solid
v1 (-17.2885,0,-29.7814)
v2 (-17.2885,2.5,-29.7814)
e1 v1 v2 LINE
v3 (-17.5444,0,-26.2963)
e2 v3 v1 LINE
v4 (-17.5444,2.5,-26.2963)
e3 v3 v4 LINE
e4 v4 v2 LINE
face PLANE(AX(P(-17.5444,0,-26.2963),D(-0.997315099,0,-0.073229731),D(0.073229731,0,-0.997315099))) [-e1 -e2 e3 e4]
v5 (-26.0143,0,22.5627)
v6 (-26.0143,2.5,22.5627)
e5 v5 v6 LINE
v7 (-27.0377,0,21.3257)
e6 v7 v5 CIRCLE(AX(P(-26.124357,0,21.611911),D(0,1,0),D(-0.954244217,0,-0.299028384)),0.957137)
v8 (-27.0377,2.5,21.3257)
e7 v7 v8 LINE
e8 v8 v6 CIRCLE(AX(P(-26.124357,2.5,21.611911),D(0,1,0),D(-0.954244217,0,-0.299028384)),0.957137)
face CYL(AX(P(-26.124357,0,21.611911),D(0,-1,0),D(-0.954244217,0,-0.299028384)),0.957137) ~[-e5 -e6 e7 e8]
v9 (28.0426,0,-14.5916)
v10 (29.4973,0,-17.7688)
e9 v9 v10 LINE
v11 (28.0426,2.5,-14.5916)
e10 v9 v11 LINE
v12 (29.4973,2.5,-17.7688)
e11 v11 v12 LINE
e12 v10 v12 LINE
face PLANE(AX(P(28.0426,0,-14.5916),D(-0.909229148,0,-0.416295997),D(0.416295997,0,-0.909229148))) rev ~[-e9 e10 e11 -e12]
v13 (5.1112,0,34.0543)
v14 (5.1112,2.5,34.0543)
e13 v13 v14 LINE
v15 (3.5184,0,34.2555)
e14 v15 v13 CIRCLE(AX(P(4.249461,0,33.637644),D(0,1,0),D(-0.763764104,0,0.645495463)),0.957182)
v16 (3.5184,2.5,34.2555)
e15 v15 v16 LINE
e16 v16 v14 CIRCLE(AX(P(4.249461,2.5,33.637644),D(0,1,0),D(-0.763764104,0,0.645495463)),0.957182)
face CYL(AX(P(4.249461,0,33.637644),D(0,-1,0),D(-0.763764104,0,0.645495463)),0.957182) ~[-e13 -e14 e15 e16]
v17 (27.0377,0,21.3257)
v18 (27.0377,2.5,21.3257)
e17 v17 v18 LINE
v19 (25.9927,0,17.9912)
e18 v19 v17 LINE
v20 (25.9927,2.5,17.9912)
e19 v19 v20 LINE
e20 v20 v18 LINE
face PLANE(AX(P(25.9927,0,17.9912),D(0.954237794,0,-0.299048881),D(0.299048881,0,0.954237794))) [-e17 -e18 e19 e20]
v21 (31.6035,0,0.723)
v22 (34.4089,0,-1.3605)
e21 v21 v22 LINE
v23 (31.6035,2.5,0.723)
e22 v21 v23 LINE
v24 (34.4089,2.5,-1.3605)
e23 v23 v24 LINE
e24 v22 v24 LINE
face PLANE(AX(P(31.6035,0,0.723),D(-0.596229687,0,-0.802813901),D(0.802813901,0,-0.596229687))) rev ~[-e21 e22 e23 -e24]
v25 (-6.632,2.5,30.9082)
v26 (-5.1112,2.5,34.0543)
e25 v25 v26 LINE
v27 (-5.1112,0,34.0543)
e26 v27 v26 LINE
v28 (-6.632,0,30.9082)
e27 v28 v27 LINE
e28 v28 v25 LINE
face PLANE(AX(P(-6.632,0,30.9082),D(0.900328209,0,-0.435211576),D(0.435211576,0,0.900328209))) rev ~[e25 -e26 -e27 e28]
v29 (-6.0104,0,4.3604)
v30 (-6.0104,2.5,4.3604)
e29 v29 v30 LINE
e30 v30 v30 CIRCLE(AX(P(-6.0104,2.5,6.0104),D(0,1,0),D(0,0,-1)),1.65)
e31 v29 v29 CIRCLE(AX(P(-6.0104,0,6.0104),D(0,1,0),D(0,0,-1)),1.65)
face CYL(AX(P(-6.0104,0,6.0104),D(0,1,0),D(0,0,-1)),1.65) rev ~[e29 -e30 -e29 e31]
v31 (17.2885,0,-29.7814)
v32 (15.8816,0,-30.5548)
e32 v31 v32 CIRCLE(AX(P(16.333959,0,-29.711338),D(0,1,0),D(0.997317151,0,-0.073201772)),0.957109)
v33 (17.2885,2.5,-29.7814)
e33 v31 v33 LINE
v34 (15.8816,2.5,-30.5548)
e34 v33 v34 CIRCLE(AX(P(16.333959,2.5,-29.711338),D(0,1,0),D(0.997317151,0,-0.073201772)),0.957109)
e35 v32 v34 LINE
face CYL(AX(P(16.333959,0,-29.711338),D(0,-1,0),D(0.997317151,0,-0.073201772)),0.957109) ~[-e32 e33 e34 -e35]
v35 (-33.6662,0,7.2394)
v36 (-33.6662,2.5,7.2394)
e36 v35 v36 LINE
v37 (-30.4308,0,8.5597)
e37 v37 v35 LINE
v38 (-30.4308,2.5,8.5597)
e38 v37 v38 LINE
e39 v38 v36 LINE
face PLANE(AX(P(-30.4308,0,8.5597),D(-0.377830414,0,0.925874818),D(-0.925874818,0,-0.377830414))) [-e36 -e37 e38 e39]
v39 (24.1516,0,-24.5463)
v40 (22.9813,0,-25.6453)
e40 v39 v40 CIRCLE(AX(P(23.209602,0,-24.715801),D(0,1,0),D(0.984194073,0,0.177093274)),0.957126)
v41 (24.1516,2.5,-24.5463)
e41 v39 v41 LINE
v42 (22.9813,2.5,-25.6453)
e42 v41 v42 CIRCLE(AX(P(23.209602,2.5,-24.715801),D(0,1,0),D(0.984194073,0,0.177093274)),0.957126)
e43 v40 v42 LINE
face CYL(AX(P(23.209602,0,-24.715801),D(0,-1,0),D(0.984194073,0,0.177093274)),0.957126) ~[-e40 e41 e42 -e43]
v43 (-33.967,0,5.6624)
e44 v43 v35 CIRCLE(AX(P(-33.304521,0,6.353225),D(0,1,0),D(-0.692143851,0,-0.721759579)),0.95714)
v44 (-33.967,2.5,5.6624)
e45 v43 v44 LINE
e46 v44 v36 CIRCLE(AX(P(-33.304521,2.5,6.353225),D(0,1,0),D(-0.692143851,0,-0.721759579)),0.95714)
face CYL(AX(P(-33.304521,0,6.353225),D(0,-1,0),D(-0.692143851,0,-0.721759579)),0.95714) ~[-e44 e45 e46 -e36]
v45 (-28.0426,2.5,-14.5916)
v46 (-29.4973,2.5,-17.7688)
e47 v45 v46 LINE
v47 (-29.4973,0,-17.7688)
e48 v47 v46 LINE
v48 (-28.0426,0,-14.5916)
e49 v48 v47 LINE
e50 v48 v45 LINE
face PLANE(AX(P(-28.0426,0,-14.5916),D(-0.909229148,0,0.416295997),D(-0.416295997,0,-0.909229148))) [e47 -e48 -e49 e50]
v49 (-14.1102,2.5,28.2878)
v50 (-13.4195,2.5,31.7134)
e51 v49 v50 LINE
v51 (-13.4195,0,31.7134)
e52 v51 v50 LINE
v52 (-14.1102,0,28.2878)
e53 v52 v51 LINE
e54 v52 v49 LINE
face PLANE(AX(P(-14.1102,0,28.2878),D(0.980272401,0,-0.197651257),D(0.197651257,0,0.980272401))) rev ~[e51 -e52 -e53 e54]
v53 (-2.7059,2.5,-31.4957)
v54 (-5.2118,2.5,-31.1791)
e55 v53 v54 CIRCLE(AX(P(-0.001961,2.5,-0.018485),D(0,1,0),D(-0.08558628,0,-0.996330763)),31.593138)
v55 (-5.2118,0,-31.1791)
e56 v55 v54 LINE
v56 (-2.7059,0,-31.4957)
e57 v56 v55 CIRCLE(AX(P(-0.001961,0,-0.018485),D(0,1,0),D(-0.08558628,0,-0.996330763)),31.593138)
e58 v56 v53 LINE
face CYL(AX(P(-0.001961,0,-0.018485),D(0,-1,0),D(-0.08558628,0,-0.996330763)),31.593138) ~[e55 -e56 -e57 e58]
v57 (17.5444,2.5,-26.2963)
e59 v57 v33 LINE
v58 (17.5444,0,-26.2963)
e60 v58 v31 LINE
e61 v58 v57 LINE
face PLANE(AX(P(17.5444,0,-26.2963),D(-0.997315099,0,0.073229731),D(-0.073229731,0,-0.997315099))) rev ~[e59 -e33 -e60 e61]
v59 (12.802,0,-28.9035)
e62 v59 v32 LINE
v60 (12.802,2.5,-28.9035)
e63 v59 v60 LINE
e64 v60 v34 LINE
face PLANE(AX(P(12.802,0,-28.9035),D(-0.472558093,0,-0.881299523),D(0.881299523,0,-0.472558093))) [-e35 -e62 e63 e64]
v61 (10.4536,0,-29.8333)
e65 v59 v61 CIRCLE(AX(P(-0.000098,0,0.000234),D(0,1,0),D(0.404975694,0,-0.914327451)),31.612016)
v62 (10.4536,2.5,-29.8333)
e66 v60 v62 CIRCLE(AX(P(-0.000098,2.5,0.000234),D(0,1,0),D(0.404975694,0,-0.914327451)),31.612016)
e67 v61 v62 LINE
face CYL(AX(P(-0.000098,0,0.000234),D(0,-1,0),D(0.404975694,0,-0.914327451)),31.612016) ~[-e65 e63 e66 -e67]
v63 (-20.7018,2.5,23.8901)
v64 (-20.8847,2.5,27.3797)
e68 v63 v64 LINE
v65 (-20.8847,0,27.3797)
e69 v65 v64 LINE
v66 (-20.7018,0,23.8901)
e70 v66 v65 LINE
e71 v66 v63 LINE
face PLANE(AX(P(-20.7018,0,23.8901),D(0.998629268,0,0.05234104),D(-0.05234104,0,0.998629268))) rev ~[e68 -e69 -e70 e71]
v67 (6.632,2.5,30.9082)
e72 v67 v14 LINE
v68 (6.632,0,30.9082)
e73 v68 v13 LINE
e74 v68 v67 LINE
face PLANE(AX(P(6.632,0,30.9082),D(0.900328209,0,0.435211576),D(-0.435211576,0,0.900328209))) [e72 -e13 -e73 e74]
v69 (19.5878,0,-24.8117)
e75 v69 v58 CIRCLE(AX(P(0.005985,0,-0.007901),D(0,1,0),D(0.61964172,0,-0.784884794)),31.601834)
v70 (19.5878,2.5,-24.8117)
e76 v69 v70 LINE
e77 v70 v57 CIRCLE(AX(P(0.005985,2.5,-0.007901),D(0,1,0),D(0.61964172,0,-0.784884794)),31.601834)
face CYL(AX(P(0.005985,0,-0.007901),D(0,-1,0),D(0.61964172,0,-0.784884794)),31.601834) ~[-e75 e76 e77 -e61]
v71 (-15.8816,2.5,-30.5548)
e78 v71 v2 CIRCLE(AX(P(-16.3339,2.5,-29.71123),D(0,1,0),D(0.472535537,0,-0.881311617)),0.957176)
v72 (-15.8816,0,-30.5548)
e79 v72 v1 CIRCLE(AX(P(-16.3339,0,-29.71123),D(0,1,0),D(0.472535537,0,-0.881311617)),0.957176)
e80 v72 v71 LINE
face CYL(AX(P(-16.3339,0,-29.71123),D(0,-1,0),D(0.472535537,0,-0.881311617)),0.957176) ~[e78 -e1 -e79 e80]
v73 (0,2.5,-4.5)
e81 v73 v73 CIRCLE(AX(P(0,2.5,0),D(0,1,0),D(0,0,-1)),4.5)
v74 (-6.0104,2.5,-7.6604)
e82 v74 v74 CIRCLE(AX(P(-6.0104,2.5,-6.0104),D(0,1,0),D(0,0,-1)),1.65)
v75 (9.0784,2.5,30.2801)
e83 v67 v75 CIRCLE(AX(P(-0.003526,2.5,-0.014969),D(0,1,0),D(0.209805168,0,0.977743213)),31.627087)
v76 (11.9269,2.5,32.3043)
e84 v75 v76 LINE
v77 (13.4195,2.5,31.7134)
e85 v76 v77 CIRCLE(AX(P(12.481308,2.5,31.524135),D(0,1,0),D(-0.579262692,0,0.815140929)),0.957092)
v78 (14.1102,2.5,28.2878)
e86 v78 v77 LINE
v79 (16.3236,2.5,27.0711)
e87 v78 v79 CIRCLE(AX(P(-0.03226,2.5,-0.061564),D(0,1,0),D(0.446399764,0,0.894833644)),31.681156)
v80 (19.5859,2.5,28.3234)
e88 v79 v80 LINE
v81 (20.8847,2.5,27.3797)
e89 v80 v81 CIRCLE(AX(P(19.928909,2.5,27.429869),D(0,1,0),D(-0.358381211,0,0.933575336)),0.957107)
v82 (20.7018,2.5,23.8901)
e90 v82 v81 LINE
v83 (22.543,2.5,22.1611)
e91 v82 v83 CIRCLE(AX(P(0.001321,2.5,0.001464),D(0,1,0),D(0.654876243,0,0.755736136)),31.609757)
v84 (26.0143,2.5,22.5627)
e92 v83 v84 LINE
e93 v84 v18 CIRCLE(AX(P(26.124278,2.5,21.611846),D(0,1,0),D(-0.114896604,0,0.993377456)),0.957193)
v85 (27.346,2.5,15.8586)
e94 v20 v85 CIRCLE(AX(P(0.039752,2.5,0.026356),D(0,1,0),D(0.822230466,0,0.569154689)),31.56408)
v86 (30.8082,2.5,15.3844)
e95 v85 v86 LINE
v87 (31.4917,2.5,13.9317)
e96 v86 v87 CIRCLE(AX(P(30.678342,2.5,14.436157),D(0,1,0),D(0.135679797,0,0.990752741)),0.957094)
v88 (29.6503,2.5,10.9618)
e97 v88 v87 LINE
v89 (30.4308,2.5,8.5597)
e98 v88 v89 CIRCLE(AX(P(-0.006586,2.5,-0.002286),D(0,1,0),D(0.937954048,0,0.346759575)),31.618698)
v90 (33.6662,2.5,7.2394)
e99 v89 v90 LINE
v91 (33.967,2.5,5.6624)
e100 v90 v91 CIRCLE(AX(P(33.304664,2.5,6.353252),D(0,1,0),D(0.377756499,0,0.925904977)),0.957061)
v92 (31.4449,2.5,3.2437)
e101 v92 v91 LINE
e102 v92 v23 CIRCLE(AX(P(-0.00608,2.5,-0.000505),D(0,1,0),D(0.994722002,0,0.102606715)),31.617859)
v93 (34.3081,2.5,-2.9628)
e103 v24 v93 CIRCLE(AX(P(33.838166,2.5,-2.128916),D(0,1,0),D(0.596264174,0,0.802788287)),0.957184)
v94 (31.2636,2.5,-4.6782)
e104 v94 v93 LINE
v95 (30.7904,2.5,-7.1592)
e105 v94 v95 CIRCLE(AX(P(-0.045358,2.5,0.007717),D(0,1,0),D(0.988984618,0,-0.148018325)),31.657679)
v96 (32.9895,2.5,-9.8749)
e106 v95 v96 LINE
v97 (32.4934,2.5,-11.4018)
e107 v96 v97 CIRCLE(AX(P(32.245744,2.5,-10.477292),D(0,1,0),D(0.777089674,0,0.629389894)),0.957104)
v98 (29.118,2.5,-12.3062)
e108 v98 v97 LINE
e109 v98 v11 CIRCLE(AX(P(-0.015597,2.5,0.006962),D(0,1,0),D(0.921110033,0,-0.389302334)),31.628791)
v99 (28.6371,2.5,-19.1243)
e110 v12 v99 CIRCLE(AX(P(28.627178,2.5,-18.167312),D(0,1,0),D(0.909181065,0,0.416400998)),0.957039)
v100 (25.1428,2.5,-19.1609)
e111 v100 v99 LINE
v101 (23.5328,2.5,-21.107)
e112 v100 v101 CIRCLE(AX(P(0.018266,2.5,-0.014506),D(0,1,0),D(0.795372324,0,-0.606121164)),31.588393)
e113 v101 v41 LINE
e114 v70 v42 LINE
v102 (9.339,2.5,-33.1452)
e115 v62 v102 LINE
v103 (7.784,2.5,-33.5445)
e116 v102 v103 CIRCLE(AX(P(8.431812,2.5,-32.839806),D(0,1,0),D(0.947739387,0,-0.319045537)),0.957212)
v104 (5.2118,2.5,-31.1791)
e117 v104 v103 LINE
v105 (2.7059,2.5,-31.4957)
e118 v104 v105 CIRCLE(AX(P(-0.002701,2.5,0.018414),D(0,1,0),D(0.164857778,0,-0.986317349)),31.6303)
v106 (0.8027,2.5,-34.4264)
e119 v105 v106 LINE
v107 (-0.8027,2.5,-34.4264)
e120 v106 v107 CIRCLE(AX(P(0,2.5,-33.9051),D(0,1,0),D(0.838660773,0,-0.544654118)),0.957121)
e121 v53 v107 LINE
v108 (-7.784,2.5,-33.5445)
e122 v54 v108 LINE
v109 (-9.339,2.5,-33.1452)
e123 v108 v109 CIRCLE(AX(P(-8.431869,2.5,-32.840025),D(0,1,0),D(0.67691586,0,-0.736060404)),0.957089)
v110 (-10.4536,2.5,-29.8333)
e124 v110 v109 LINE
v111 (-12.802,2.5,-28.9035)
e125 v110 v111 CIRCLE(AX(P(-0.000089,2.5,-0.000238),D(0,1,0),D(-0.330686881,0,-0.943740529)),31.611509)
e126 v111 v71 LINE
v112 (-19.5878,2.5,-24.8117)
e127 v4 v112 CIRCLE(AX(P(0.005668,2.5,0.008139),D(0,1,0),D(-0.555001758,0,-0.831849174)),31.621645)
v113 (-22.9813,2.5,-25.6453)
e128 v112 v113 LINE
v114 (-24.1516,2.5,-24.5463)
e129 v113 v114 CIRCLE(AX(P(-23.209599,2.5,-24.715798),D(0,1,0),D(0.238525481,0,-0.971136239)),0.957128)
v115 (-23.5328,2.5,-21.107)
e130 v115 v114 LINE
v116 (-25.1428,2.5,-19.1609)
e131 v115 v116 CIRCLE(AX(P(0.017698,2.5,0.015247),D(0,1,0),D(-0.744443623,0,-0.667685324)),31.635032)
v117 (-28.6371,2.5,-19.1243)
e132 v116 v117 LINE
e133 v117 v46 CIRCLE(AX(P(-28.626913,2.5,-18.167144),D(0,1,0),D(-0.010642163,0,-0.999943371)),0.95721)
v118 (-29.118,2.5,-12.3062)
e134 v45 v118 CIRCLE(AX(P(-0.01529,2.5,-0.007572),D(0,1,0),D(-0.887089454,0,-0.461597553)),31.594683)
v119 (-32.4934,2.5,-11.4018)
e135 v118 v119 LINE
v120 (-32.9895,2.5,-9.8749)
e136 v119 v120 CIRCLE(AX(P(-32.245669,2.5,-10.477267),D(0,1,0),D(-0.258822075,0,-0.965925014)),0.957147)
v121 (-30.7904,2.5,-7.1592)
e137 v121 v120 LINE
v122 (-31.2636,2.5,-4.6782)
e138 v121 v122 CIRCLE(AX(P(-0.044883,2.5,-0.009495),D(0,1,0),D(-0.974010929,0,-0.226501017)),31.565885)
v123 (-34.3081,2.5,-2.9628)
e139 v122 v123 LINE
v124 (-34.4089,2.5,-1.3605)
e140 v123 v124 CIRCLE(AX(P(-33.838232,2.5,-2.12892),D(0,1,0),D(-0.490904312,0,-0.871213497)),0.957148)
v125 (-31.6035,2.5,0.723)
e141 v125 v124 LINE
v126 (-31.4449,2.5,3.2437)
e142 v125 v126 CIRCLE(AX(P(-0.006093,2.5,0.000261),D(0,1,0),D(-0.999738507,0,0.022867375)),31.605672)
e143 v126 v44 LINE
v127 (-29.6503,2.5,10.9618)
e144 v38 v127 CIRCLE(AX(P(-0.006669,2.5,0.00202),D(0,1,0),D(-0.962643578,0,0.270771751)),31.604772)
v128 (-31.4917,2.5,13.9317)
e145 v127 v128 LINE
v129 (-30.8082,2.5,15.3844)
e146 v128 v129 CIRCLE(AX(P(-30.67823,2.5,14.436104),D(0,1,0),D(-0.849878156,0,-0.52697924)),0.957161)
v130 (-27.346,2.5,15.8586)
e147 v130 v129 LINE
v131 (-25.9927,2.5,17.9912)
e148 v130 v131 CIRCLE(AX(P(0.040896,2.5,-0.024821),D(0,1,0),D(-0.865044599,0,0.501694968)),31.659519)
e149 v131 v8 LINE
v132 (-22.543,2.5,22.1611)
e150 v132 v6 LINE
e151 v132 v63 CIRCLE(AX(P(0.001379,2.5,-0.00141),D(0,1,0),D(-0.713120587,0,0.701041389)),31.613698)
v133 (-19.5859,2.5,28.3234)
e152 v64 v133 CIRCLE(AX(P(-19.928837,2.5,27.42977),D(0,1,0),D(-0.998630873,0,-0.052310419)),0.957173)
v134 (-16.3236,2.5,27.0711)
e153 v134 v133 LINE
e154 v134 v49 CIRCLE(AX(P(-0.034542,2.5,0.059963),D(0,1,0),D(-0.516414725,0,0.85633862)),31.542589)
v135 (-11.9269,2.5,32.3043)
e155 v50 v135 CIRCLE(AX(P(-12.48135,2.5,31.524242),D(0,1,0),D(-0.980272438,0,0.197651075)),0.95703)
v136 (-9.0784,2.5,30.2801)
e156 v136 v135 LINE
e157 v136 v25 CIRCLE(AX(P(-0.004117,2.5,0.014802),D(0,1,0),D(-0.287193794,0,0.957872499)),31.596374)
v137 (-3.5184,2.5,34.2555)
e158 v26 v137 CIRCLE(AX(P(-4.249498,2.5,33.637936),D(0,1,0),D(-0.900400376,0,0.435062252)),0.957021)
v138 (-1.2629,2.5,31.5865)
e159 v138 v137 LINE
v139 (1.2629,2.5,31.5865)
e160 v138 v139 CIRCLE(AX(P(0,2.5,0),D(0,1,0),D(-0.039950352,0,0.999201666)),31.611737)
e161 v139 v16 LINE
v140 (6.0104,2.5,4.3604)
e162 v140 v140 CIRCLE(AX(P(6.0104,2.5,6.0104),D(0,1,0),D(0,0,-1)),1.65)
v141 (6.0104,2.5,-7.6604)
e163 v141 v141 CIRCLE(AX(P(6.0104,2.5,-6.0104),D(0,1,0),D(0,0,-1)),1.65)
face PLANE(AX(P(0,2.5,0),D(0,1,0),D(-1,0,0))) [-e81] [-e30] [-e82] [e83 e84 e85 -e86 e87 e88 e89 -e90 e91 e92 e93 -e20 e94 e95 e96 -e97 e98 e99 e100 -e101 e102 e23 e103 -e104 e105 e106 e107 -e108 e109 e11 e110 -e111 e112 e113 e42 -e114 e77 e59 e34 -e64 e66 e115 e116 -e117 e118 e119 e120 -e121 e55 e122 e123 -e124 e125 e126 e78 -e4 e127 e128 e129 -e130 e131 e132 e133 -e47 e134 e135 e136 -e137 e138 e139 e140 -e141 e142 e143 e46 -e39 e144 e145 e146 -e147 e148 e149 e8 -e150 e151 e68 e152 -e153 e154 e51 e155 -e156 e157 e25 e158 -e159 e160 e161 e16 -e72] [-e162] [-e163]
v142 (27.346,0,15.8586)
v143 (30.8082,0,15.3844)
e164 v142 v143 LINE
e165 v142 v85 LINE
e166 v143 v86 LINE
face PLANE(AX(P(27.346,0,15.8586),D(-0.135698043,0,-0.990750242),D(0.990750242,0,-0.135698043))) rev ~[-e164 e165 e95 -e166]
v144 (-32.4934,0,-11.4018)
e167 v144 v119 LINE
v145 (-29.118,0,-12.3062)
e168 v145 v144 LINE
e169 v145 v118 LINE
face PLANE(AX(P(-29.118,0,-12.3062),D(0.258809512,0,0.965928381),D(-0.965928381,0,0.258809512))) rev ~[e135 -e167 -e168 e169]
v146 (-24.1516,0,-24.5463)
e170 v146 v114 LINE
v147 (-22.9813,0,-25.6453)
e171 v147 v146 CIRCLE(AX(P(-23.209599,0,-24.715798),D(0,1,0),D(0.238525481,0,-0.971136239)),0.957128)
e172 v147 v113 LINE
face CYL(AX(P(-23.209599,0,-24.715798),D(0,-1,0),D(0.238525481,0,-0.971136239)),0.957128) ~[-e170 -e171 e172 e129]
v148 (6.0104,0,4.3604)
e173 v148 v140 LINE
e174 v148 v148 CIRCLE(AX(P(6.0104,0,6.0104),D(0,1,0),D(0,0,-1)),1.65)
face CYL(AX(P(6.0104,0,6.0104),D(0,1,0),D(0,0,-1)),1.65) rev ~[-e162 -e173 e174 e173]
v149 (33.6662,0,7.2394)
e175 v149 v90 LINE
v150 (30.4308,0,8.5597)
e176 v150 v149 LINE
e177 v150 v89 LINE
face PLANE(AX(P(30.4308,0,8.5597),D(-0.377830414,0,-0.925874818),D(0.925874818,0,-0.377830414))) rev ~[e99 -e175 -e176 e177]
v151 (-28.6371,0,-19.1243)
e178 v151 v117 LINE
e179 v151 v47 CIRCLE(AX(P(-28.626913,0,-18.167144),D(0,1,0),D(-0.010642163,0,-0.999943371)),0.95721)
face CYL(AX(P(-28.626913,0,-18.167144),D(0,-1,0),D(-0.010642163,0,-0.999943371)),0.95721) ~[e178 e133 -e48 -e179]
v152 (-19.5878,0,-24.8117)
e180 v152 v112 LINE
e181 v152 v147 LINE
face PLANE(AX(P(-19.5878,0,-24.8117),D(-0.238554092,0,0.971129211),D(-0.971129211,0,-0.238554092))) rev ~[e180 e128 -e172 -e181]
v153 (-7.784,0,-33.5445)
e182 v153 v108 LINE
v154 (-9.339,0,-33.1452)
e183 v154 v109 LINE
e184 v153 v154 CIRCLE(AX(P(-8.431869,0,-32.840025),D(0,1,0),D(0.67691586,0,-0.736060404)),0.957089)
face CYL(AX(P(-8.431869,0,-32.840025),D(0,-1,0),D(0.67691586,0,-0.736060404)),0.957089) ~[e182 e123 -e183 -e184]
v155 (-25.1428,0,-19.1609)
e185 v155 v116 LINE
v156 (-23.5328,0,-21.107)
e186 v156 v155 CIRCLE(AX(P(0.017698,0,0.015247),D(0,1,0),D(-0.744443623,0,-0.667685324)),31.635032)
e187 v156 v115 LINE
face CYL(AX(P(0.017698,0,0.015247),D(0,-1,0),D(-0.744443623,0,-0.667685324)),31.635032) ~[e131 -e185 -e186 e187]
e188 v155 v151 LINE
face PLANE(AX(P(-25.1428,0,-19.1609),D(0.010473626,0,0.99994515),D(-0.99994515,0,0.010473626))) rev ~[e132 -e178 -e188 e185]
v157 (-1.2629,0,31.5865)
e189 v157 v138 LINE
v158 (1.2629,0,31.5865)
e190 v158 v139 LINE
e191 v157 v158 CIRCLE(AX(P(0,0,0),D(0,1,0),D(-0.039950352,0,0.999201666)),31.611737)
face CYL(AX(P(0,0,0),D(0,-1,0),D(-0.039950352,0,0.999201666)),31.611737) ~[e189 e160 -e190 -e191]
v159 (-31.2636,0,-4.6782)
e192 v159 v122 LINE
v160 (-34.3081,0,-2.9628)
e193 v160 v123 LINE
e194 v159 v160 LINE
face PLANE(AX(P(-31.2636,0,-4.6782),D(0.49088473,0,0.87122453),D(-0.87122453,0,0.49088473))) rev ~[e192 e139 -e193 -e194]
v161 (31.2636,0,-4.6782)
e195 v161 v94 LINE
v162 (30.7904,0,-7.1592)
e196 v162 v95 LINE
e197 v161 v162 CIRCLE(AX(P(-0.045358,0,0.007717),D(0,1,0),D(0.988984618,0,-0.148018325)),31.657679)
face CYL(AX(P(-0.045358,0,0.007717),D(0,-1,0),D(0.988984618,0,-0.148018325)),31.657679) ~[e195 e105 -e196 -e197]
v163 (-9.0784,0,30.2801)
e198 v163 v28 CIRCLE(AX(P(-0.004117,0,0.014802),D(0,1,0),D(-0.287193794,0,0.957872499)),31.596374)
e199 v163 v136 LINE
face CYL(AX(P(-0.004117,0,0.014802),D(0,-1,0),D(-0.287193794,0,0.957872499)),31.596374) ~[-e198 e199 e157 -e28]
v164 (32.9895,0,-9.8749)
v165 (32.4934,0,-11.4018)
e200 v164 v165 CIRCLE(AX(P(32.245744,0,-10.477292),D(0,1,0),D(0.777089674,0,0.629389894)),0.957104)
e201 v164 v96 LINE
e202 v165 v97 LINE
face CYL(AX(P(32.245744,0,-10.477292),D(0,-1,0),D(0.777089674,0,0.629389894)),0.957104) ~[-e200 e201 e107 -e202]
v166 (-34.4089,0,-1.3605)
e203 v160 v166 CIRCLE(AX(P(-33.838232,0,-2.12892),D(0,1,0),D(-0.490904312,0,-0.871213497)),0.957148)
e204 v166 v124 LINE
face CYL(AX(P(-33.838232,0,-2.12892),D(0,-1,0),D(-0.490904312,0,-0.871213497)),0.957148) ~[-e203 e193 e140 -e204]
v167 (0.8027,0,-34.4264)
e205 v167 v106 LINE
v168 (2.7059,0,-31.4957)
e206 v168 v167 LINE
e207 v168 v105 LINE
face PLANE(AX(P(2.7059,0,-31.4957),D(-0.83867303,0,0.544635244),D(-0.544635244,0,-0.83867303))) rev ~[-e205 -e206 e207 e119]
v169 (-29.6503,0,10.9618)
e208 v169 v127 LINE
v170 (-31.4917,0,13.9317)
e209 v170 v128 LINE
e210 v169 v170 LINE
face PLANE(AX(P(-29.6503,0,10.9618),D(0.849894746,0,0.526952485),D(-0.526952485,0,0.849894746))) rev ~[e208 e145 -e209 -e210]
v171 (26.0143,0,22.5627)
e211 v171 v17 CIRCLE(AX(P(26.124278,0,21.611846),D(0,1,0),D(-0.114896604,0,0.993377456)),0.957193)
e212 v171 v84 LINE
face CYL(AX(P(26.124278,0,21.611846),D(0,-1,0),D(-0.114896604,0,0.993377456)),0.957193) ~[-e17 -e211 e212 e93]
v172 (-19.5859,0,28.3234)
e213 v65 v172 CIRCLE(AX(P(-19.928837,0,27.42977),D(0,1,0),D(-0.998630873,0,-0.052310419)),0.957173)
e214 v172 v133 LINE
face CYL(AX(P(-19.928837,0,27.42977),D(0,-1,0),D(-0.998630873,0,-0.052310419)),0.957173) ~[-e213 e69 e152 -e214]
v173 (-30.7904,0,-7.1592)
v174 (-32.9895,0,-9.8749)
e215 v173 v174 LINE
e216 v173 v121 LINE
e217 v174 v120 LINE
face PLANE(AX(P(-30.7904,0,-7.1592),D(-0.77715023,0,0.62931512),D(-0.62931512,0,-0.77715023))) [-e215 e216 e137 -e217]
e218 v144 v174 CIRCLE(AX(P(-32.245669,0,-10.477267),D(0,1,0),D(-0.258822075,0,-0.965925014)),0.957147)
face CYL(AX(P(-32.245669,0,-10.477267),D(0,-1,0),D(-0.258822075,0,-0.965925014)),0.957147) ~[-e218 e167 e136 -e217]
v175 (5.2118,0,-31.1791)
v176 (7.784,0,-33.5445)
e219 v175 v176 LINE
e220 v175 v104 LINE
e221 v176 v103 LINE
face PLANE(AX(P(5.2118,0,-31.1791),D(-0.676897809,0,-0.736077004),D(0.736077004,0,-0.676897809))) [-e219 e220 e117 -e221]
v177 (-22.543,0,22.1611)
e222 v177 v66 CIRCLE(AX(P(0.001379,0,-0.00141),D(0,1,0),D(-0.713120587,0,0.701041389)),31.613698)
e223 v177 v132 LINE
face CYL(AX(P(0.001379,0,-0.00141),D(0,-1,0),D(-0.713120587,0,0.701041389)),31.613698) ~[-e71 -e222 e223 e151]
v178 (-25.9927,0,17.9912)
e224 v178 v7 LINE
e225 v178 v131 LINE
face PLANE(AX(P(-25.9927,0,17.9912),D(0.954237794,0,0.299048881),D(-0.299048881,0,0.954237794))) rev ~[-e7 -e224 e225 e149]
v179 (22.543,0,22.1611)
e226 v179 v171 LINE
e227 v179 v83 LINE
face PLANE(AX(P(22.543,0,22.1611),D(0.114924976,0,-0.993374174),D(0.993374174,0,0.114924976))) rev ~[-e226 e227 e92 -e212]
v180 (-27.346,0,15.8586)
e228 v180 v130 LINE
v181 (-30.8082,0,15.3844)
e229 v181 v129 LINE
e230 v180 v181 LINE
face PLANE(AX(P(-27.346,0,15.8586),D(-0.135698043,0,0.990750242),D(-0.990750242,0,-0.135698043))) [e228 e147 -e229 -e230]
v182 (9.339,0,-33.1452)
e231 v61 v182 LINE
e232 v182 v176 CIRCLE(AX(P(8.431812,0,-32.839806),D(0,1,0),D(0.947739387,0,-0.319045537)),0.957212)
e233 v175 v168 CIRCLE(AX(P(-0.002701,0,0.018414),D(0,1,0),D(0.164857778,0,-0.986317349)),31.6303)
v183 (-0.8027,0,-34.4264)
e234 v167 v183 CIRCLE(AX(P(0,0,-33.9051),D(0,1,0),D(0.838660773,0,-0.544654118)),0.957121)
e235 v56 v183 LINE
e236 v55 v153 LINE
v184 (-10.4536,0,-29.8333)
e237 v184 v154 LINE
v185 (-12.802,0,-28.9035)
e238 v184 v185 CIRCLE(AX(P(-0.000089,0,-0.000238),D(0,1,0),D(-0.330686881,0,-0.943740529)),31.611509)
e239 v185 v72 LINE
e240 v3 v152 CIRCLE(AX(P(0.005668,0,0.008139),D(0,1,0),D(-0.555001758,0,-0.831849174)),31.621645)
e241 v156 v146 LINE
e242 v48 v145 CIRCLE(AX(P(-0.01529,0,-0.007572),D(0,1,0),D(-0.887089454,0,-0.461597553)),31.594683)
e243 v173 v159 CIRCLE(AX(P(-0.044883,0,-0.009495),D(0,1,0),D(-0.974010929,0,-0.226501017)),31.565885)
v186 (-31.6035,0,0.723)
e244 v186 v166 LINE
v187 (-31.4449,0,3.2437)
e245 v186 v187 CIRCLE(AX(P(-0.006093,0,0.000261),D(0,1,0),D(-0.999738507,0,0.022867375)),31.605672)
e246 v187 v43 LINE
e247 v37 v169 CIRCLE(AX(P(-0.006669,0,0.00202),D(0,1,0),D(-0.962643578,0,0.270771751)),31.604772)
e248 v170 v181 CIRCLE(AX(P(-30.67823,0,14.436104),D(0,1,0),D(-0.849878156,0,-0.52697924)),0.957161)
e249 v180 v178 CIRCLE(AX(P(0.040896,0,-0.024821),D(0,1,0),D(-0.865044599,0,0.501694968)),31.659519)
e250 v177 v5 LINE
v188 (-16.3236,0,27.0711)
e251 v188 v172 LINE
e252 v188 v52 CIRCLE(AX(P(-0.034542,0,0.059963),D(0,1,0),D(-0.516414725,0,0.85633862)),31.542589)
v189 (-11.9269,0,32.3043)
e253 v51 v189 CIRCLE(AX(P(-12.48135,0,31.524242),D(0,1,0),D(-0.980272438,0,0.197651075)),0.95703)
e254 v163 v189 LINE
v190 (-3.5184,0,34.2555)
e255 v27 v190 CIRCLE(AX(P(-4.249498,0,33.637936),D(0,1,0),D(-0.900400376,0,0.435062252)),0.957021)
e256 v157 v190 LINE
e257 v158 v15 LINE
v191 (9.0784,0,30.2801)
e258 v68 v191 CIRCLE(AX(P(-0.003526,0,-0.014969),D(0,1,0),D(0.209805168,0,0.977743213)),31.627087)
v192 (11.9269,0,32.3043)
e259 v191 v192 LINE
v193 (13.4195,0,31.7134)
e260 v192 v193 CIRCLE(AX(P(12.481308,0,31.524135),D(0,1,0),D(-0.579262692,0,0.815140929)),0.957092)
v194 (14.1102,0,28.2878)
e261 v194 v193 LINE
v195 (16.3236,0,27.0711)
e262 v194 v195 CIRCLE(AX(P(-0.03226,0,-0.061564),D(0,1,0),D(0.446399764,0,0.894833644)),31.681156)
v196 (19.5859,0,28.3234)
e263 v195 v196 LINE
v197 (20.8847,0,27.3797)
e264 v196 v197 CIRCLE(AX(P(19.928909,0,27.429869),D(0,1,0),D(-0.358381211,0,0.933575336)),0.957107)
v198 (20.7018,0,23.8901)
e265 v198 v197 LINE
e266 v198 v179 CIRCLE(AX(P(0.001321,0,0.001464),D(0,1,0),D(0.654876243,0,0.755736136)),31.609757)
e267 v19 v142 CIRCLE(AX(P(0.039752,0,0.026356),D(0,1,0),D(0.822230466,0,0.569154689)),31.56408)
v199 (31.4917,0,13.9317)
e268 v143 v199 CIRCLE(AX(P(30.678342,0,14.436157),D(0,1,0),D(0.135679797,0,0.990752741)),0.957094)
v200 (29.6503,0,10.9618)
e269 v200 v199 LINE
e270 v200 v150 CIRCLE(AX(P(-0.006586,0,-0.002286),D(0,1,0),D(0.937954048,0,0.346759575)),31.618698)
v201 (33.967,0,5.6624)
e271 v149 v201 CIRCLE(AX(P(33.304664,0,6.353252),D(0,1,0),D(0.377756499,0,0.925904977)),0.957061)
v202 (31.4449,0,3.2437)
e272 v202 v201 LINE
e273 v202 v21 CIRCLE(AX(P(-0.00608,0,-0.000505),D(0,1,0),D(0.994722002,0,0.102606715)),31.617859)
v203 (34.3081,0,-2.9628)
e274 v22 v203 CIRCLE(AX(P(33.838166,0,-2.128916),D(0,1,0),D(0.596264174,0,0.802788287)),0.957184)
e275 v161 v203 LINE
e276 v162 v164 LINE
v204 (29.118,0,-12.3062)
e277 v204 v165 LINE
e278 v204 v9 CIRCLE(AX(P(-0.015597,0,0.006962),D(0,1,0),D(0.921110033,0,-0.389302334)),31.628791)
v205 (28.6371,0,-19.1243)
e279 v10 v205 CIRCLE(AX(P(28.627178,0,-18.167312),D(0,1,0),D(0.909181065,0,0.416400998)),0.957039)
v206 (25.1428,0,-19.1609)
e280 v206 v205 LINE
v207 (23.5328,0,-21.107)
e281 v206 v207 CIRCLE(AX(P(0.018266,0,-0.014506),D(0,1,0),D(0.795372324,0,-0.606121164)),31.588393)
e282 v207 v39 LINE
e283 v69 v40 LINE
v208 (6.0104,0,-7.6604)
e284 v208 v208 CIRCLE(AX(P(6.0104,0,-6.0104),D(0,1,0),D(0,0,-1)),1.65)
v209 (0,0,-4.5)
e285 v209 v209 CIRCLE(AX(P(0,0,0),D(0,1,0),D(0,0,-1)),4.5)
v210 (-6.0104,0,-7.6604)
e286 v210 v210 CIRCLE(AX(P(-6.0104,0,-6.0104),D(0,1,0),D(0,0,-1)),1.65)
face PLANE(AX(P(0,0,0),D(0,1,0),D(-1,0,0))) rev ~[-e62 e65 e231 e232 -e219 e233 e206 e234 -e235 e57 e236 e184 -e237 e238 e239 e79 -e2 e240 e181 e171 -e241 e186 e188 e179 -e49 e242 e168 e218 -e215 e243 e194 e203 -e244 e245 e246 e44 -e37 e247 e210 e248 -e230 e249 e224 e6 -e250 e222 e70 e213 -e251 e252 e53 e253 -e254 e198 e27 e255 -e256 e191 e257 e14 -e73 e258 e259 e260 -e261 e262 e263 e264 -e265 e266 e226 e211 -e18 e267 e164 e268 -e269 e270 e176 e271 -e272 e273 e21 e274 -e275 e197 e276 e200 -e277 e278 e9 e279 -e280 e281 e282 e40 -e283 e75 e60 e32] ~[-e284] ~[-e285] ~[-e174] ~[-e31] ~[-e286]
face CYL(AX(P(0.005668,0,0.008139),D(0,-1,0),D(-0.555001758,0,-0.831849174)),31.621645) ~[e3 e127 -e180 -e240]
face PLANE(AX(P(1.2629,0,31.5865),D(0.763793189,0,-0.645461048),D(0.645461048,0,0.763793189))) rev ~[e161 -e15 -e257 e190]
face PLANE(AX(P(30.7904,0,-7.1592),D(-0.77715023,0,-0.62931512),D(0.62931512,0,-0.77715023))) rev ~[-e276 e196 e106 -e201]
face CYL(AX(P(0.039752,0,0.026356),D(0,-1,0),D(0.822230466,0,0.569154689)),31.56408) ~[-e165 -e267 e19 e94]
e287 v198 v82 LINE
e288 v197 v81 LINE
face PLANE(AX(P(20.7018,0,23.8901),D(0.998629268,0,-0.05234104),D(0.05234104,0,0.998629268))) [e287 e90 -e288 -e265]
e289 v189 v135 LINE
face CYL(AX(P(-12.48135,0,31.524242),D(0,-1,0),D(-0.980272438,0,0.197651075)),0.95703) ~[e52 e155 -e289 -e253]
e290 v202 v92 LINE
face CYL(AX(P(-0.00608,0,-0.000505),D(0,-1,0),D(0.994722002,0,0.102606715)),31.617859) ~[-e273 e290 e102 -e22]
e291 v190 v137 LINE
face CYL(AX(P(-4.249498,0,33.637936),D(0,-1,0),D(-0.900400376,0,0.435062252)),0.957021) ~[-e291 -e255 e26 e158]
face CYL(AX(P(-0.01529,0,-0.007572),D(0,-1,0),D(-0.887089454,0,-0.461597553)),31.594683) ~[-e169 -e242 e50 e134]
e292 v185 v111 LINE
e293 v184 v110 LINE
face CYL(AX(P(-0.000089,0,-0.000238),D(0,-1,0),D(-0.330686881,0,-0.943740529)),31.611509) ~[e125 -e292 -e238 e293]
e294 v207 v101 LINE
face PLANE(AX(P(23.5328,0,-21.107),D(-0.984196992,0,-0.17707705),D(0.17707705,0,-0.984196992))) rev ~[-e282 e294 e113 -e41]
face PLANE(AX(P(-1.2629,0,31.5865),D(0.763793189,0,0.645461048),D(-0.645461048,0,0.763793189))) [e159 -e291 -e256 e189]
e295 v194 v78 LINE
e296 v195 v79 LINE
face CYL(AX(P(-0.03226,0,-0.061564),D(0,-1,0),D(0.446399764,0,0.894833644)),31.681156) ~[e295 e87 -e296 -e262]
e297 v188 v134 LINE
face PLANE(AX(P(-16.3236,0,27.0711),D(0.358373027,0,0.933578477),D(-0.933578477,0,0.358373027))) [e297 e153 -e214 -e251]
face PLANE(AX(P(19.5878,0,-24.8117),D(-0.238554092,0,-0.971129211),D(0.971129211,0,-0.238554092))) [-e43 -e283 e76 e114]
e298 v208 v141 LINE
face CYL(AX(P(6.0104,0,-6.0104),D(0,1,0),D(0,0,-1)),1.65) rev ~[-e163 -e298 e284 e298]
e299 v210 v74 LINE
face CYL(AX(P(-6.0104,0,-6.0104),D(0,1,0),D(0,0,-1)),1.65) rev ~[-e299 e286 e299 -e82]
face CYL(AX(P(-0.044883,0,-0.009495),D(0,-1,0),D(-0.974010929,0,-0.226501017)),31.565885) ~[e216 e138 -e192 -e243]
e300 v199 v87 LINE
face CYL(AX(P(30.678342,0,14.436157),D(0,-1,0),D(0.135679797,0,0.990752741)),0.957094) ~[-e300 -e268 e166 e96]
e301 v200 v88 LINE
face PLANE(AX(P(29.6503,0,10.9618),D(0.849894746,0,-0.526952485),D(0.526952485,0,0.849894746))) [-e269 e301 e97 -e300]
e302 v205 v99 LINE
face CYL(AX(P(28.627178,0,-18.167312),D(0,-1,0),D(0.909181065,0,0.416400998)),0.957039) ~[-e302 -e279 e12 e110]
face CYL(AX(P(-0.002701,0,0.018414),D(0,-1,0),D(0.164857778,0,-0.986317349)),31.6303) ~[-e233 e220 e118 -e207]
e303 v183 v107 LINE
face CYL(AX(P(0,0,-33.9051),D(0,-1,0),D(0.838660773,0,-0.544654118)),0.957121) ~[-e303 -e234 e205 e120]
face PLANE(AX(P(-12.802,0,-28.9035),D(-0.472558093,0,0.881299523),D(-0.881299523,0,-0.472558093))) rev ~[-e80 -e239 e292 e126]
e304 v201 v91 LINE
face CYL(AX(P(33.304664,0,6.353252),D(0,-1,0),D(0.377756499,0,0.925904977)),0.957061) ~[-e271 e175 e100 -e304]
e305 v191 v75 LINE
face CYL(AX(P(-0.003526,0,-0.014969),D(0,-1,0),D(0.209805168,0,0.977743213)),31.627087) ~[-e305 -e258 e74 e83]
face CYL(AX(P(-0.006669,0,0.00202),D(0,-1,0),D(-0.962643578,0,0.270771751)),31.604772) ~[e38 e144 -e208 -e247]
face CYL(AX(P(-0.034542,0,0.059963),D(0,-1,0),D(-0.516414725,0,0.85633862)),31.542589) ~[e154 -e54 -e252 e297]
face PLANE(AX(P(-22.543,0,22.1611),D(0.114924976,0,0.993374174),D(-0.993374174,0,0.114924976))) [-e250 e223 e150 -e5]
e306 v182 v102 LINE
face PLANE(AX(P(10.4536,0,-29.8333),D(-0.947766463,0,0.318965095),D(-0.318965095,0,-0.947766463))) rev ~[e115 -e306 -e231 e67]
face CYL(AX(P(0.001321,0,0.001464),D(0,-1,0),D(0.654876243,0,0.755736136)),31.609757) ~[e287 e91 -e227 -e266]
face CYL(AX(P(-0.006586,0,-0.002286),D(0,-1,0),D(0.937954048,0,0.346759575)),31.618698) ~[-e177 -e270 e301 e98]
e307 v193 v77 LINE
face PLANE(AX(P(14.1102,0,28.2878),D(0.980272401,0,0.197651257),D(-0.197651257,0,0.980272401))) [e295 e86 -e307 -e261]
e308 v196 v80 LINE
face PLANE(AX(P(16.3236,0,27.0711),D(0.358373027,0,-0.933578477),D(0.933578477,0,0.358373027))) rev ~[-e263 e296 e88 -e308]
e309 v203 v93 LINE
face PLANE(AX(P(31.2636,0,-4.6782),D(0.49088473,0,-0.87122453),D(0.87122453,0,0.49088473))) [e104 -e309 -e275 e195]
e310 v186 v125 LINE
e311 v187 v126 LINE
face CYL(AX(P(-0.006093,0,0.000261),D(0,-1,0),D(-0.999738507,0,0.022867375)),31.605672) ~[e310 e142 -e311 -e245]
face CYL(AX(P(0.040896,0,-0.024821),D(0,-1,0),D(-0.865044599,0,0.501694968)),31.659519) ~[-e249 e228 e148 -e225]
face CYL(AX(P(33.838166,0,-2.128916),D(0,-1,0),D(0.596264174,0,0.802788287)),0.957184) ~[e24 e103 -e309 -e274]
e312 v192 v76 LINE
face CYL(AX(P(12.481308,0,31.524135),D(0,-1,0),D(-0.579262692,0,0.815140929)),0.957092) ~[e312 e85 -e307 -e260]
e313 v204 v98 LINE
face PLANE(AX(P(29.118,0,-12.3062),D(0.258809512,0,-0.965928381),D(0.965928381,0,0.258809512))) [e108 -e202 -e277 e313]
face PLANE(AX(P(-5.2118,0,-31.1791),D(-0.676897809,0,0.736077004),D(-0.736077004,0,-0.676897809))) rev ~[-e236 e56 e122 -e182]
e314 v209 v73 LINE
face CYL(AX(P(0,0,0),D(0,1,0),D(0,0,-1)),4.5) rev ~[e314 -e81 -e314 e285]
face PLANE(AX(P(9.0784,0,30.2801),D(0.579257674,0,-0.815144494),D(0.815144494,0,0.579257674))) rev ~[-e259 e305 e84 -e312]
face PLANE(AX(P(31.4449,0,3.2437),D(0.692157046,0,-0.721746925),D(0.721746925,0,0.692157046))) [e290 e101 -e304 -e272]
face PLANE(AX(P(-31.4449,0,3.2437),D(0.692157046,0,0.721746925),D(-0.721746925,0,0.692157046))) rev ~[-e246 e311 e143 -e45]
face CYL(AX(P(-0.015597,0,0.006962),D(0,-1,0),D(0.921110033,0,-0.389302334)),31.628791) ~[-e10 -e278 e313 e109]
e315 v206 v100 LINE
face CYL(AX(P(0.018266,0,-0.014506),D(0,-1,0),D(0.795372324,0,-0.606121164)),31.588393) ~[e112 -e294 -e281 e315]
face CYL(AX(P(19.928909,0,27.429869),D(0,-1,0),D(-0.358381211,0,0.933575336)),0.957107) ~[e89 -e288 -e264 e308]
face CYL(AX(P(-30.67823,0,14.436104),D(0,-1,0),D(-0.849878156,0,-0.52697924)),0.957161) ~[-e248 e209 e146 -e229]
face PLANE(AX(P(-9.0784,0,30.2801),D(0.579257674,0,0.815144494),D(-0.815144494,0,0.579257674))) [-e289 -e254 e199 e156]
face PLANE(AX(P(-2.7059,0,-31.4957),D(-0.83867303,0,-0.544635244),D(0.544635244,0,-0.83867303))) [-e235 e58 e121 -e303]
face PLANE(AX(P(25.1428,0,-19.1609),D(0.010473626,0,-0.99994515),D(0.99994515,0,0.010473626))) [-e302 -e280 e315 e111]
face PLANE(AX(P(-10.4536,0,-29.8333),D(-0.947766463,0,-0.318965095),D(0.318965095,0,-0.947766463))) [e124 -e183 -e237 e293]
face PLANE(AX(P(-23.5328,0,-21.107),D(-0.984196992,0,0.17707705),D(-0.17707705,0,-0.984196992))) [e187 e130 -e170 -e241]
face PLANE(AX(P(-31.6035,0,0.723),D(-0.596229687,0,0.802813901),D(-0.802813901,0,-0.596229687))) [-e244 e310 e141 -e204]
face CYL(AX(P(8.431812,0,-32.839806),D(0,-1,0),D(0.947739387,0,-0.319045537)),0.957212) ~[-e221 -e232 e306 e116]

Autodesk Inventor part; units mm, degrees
ref_plane "YZ Plane" through (0, 0, 0) normal (1, 0, 0) x (0, 1, 0)
ref_plane "XZ Plane" through (0, 0, 0) normal (0, 1, 0) x (-1, 0, 0)
ref_plane "XY Plane" through (0, 0, 0) normal (0, 0, 1) x (1, 0, 0)
sketch "Szkic2" plane through (0, 0, 0) normal (0, 1, 0) x (-1, 0, 0)
  line L0 (0, 0) -> (-3.962, -31.3625) construction
  line L1 (0, 0) -> (3.962, -31.3625) construction
  line L2 (3.962, -31.3625) -> (-3.962, -31.3625) construction
  line L3 (0, 0) -> (0, -151) construction
  circle A0 centre (0, 0) radius 31.6117 construction
  line L4 (0, -35.6625) -> (2.7059, -31.4957) construction
  line L5 (0, -35.6625) -> (-2.7059, -31.4957) construction
  circle A1 centre (0, -33.9051) radius 0.9571 construction
  line L6 (2.7059, -31.4957) -> (0.8027, -34.4264)
  line L7 (-2.7059, -31.4957) -> (-0.8027, -34.4264)
  arc A2 (-0.8027, -34.4264) -> (0.8027, -34.4264) centre (0, -33.9051) ccw
  line L8 (-2.7059, -31.4957) -> (5.2118, -31.1791) construction
  arc A3 (2.7059, -31.4957) -> (5.2118, -31.1791) centre (0, 0) ccw
  line L9 (8.8689, -34.5421) -> (5.2118, -31.1791) construction
  line L10 (5.2118, -31.1791) -> (7.784, -33.5445)
  arc A4 (7.784, -33.5445) -> (9.339, -33.1452) centre (8.4319, -32.8399) ccw
  line L11 (10.4536, -29.8333) -> (9.339, -33.1452)
  arc A5 (10.4536, -29.8333) -> (12.802, -28.9035) centre (0, 0) ccw
  line L12 (17.1805, -31.2513) -> (12.802, -28.9035) construction
  line L13 (12.802, -28.9035) -> (15.8816, -30.5548)
  arc A6 (15.8816, -30.5548) -> (17.2885, -29.7814) centre (16.3339, -29.7113) ccw
  line L14 (17.5444, -26.2963) -> (17.2885, -29.7814)
  arc A7 (17.5444, -26.2963) -> (19.5878, -24.8117) centre (0, 0) ccw
  line L15 (24.4126, -25.9968) -> (19.5878, -24.8117) construction
  line L16 (19.5878, -24.8117) -> (22.9813, -25.6453)
  arc A8 (22.9813, -25.6453) -> (24.1516, -24.5463) centre (23.2096, -24.7158) ccw
  line L17 (23.5328, -21.107) -> (24.1516, -24.5463)
  arc A9 (23.5328, -21.107) -> (25.1428, -19.1609) centre (0, 0) ccw
  line L18 (30.1108, -19.1089) -> (25.1428, -19.1609) construction
  line L19 (25.1428, -19.1609) -> (28.6371, -19.1243)
  arc A10 (28.6371, -19.1243) -> (29.4973, -17.7688) centre (28.627, -18.1673) ccw
  line L20 (28.0426, -14.5916) -> (29.4973, -17.7688)
  arc A11 (28.0426, -14.5916) -> (29.118, -12.3062) centre (0, 0) ccw
  line L21 (33.917, -11.0203) -> (29.118, -12.3062) construction
  line L22 (29.118, -12.3062) -> (32.4934, -11.4018)
  arc A12 (32.4934, -11.4018) -> (32.9895, -9.8749) centre (32.2457, -10.4773) ccw
  line L23 (30.7904, -7.1592) -> (32.9895, -9.8749)
  arc A13 (30.7904, -7.1592) -> (31.2636, -4.6782) centre (0, 0) ccw
  line L24 (35.5921, -2.2393) -> (31.2636, -4.6782) construction
  line L25 (31.2636, -4.6782) -> (34.3081, -2.9628)
  arc A14 (34.3081, -2.9628) -> (34.4089, -1.3605) centre (33.8382, -2.1289) ccw
  line L26 (31.6035, 0.723) -> (34.4089, -1.3605)
  arc A15 (31.6035, 0.723) -> (31.4449, 3.2437) centre (0, 0) ccw
  line L27 (35.0308, 6.6825) -> (31.4449, 3.2437) construction
  line L28 (31.4449, 3.2437) -> (33.967, 5.6624)
  arc A16 (33.967, 5.6624) -> (33.6662, 7.2394) centre (33.3046, 6.3532) ccw
  line L29 (30.4308, 8.5597) -> (33.6662, 7.2394)
  arc A17 (30.4308, 8.5597) -> (29.6503, 10.9618) centre (0, 0) ccw
  line L30 (32.2684, 15.1843) -> (29.6503, 10.9618) construction
  line L31 (29.6503, 10.9618) -> (31.4917, 13.9317)
  arc A18 (31.4917, 13.9317) -> (30.8082, 15.3844) centre (30.6783, 14.4361) ccw
  line L32 (27.346, 15.8586) -> (30.8082, 15.3844)
  arc A19 (27.346, 15.8586) -> (25.9927, 17.9912) centre (0, 0) ccw
  line L33 (27.4784, 22.7321) -> (25.9927, 17.9912) construction
  line L34 (25.9927, 17.9912) -> (27.0377, 21.3257)
  arc A20 (27.0377, 21.3257) -> (26.0143, 22.5627) centre (26.1243, 21.6119) ccw
  line L35 (22.543, 22.1611) -> (26.0143, 22.5627)
  arc A21 (22.543, 22.1611) -> (20.7018, 23.8901) centre (0, 0) ccw
  line L36 (20.9619, 28.8515) -> (20.7018, 23.8901) construction
  line L37 (20.7018, 23.8901) -> (20.8847, 27.3797)
  arc A22 (20.8847, 27.3797) -> (19.5859, 28.3234) centre (19.9289, 27.4298) ccw
  line L38 (16.3236, 27.0711) -> (19.5859, 28.3234)
  arc A23 (16.3236, 27.0711) -> (14.1102, 28.2878) centre (0, 0) ccw
  line L39 (13.1282, 33.1581) -> (14.1102, 28.2878) construction
  line L40 (14.1102, 28.2878) -> (13.4195, 31.7134)
  arc A24 (13.4195, 31.7134) -> (11.9269, 32.3043) centre (12.4813, 31.5242) ccw
  line L41 (9.0784, 30.2801) -> (11.9269, 32.3043)
  arc A25 (9.0784, 30.2801) -> (6.632, 30.9082) centre (0, 0) ccw
  line L42 (4.4697, 35.3813) -> (6.632, 30.9082) construction
  line L43 (6.632, 30.9082) -> (5.1112, 34.0543)
  arc A26 (5.1112, 34.0543) -> (3.5184, 34.2555) centre (4.2494, 33.6378) ccw
  line L44 (1.2629, 31.5865) -> (3.5184, 34.2555)
  arc A27 (1.2629, 31.5865) -> (-1.2629, 31.5865) centre (0, 0) ccw
  line L45 (-4.4697, 35.3813) -> (-1.2629, 31.5865) construction
  line L46 (-1.2629, 31.5865) -> (-3.5184, 34.2555)
  arc A28 (-3.5184, 34.2555) -> (-5.1112, 34.0543) centre (-4.2494, 33.6378) ccw
  line L47 (-6.632, 30.9082) -> (-5.1112, 34.0543)
  arc A29 (-6.632, 30.9082) -> (-9.0784, 30.2801) centre (0, 0) ccw
  line L48 (-13.1282, 33.1581) -> (-9.0784, 30.2801) construction
  line L49 (-9.0784, 30.2801) -> (-11.9269, 32.3043)
  arc A30 (-11.9269, 32.3043) -> (-13.4195, 31.7134) centre (-12.4813, 31.5242) ccw
  line L50 (-14.1102, 28.2878) -> (-13.4195, 31.7134)
  arc A31 (-14.1102, 28.2878) -> (-16.3236, 27.0711) centre (0, 0) ccw
  line L51 (-20.9619, 28.8515) -> (-16.3236, 27.0711) construction
  line L52 (-16.3236, 27.0711) -> (-19.5859, 28.3234)
  arc A32 (-19.5859, 28.3234) -> (-20.8847, 27.3797) centre (-19.9289, 27.4298) ccw
  line L53 (-20.7018, 23.8901) -> (-20.8847, 27.3797)
  arc A33 (-20.7018, 23.8901) -> (-22.543, 22.1611) centre (0, 0) ccw
  line L54 (-27.4784, 22.7321) -> (-22.543, 22.1611) construction
  line L55 (-22.543, 22.1611) -> (-26.0143, 22.5627)
  arc A34 (-26.0143, 22.5627) -> (-27.0377, 21.3257) centre (-26.1243, 21.6119) ccw
  line L56 (-25.9927, 17.9912) -> (-27.0377, 21.3257)
  arc A35 (-25.9927, 17.9912) -> (-27.346, 15.8586) centre (0, 0) ccw
  line L57 (-32.2684, 15.1843) -> (-27.346, 15.8586) construction
  line L58 (-27.346, 15.8586) -> (-30.8082, 15.3844)
  arc A36 (-30.8082, 15.3844) -> (-31.4917, 13.9317) centre (-30.6783, 14.4361) ccw
  line L59 (-29.6503, 10.9618) -> (-31.4917, 13.9317)
  arc A37 (-29.6503, 10.9618) -> (-30.4308, 8.5597) centre (0, 0) ccw
  line L60 (-35.0308, 6.6825) -> (-30.4308, 8.5597) construction
  line L61 (-30.4308, 8.5597) -> (-33.6662, 7.2394)
  arc A38 (-33.6662, 7.2394) -> (-33.967, 5.6624) centre (-33.3046, 6.3532) ccw
  line L62 (-31.4449, 3.2437) -> (-33.967, 5.6624)
  arc A39 (-31.4449, 3.2437) -> (-31.6035, 0.723) centre (0, 0) ccw
  line L63 (-35.5921, -2.2393) -> (-31.6035, 0.723) construction
  line L64 (-31.6035, 0.723) -> (-34.4089, -1.3605)
  arc A40 (-34.4089, -1.3605) -> (-34.3081, -2.9628) centre (-33.8382, -2.1289) ccw
  line L65 (-31.2636, -4.6782) -> (-34.3081, -2.9628)
  arc A41 (-31.2636, -4.6782) -> (-30.7904, -7.1592) centre (0, 0) ccw
  line L66 (-33.917, -11.0203) -> (-30.7904, -7.1592) construction
  line L67 (-30.7904, -7.1592) -> (-32.9895, -9.8749)
  arc A42 (-32.9895, -9.8749) -> (-32.4934, -11.4018) centre (-32.2457, -10.4773) ccw
  line L68 (-29.118, -12.3062) -> (-32.4934, -11.4018)
  arc A43 (-29.118, -12.3062) -> (-28.0426, -14.5916) centre (0, 0) ccw
  line L69 (-30.1108, -19.1089) -> (-28.0426, -14.5916) construction
  line L70 (-28.0426, -14.5916) -> (-29.4973, -17.7688)
  arc A44 (-29.4973, -17.7688) -> (-28.6371, -19.1243) centre (-28.627, -18.1673) ccw
  line L71 (-25.1428, -19.1609) -> (-28.6371, -19.1243)
  arc A45 (-25.1428, -19.1609) -> (-23.5328, -21.107) centre (0, 0) ccw
  line L72 (-24.4126, -25.9968) -> (-23.5328, -21.107) construction
  line L73 (-23.5328, -21.107) -> (-24.1516, -24.5463)
  arc A46 (-24.1516, -24.5463) -> (-22.9813, -25.6453) centre (-23.2096, -24.7158) ccw
  line L74 (-19.5878, -24.8117) -> (-22.9813, -25.6453)
  arc A47 (-19.5878, -24.8117) -> (-17.5444, -26.2963) centre (0, 0) ccw
  line L75 (-17.1805, -31.2513) -> (-17.5444, -26.2963) construction
  line L76 (-17.5444, -26.2963) -> (-17.2885, -29.7814)
  arc A48 (-17.2885, -29.7814) -> (-15.8816, -30.5548) centre (-16.3339, -29.7113) ccw
  line L77 (-12.802, -28.9035) -> (-15.8816, -30.5548)
  arc A49 (-12.802, -28.9035) -> (-10.4536, -29.8333) centre (0, 0) ccw
  line L78 (-8.8689, -34.5421) -> (-10.4536, -29.8333) construction
  line L79 (-10.4536, -29.8333) -> (-9.339, -33.1452)
  arc A50 (-9.339, -33.1452) -> (-7.784, -33.5445) centre (-8.4319, -32.8399) ccw
  line L80 (-5.2118, -31.1791) -> (-7.784, -33.5445)
  arc A51 (-5.2118, -31.1791) -> (-2.7059, -31.4957) centre (0, 0) ccw
  dimension "d19" = 7.924
  dimension "d20" = 3.962
  dimension "d21" = 14.4
  dimension "d22" = 4.3
  dimension "d23" = 147
  dimension "d24" = 147
  dimension "d26" = 7.924
  dimension "d44" = 1.7573
sketch "Szkic3" plane through (0, 0, 0) normal (0, 1, 0) x (-1, 0, 0)
  circle A0 centre (0, 0) radius 8.5 construction
  line L0 (-6.0104, 6.0104) -> (6.0104, 6.0104) construction
  line L1 (6.0104, 6.0104) -> (6.0104, -6.0104) construction
  line L2 (6.0104, -6.0104) -> (-6.0104, -6.0104) construction
  line L3 (-6.0104, -6.0104) -> (-6.0104, 6.0104) construction
  line L4 (-6.0104, 6.0104) -> (6.0104, -6.0104) construction
  line L5 (6.0104, 6.0104) -> (-6.0104, -6.0104) construction
  dimension "d37" = 17
extrude "Wyciągnięcie proste2" add sketch "Szkic2" along normal blind 2.5
hole "Otwór1" at (-6.0104, 0, -6.0104) at (6.0104, 0, -6.0104) at (6.0104, 0, 6.0104) at (-6.0104, 0, 6.0104) direction (0, 1, 0) diameter 3.3 end through all
sketch "Szkic4" plane through (0, 0, 0) normal (0, -1, 0) x (1, 0, 0)
  point P0 (0, 0)
  point P1 (0, 0)
hole "Otwór2" at (0, 0, 0) direction (0, 1, 0) diameter 9 end through all
equation "\"d19\" = dl_przeskoku"
equation "\"d20\" = 0.5 * d19"
equation "\"d23\" = kat_zeba"
equation "\"d24\" = kat_zeba"
equation "\"d26\" = dl_przeskoku"
equation "\"kat\" = 360deg"
equation "\"kat_zeba\" = 147deg"
equation "\"wys_zeba\" = 5"
equation "\"odl_osi_zeba\" = 2.366"
equation "\"dl_ogniwa\" = 8.3"
equation "\"dl_przeskoku\" = 7.924"
properties part number "kolo 25  8,3 mm 147 dg 4,3 mm"
